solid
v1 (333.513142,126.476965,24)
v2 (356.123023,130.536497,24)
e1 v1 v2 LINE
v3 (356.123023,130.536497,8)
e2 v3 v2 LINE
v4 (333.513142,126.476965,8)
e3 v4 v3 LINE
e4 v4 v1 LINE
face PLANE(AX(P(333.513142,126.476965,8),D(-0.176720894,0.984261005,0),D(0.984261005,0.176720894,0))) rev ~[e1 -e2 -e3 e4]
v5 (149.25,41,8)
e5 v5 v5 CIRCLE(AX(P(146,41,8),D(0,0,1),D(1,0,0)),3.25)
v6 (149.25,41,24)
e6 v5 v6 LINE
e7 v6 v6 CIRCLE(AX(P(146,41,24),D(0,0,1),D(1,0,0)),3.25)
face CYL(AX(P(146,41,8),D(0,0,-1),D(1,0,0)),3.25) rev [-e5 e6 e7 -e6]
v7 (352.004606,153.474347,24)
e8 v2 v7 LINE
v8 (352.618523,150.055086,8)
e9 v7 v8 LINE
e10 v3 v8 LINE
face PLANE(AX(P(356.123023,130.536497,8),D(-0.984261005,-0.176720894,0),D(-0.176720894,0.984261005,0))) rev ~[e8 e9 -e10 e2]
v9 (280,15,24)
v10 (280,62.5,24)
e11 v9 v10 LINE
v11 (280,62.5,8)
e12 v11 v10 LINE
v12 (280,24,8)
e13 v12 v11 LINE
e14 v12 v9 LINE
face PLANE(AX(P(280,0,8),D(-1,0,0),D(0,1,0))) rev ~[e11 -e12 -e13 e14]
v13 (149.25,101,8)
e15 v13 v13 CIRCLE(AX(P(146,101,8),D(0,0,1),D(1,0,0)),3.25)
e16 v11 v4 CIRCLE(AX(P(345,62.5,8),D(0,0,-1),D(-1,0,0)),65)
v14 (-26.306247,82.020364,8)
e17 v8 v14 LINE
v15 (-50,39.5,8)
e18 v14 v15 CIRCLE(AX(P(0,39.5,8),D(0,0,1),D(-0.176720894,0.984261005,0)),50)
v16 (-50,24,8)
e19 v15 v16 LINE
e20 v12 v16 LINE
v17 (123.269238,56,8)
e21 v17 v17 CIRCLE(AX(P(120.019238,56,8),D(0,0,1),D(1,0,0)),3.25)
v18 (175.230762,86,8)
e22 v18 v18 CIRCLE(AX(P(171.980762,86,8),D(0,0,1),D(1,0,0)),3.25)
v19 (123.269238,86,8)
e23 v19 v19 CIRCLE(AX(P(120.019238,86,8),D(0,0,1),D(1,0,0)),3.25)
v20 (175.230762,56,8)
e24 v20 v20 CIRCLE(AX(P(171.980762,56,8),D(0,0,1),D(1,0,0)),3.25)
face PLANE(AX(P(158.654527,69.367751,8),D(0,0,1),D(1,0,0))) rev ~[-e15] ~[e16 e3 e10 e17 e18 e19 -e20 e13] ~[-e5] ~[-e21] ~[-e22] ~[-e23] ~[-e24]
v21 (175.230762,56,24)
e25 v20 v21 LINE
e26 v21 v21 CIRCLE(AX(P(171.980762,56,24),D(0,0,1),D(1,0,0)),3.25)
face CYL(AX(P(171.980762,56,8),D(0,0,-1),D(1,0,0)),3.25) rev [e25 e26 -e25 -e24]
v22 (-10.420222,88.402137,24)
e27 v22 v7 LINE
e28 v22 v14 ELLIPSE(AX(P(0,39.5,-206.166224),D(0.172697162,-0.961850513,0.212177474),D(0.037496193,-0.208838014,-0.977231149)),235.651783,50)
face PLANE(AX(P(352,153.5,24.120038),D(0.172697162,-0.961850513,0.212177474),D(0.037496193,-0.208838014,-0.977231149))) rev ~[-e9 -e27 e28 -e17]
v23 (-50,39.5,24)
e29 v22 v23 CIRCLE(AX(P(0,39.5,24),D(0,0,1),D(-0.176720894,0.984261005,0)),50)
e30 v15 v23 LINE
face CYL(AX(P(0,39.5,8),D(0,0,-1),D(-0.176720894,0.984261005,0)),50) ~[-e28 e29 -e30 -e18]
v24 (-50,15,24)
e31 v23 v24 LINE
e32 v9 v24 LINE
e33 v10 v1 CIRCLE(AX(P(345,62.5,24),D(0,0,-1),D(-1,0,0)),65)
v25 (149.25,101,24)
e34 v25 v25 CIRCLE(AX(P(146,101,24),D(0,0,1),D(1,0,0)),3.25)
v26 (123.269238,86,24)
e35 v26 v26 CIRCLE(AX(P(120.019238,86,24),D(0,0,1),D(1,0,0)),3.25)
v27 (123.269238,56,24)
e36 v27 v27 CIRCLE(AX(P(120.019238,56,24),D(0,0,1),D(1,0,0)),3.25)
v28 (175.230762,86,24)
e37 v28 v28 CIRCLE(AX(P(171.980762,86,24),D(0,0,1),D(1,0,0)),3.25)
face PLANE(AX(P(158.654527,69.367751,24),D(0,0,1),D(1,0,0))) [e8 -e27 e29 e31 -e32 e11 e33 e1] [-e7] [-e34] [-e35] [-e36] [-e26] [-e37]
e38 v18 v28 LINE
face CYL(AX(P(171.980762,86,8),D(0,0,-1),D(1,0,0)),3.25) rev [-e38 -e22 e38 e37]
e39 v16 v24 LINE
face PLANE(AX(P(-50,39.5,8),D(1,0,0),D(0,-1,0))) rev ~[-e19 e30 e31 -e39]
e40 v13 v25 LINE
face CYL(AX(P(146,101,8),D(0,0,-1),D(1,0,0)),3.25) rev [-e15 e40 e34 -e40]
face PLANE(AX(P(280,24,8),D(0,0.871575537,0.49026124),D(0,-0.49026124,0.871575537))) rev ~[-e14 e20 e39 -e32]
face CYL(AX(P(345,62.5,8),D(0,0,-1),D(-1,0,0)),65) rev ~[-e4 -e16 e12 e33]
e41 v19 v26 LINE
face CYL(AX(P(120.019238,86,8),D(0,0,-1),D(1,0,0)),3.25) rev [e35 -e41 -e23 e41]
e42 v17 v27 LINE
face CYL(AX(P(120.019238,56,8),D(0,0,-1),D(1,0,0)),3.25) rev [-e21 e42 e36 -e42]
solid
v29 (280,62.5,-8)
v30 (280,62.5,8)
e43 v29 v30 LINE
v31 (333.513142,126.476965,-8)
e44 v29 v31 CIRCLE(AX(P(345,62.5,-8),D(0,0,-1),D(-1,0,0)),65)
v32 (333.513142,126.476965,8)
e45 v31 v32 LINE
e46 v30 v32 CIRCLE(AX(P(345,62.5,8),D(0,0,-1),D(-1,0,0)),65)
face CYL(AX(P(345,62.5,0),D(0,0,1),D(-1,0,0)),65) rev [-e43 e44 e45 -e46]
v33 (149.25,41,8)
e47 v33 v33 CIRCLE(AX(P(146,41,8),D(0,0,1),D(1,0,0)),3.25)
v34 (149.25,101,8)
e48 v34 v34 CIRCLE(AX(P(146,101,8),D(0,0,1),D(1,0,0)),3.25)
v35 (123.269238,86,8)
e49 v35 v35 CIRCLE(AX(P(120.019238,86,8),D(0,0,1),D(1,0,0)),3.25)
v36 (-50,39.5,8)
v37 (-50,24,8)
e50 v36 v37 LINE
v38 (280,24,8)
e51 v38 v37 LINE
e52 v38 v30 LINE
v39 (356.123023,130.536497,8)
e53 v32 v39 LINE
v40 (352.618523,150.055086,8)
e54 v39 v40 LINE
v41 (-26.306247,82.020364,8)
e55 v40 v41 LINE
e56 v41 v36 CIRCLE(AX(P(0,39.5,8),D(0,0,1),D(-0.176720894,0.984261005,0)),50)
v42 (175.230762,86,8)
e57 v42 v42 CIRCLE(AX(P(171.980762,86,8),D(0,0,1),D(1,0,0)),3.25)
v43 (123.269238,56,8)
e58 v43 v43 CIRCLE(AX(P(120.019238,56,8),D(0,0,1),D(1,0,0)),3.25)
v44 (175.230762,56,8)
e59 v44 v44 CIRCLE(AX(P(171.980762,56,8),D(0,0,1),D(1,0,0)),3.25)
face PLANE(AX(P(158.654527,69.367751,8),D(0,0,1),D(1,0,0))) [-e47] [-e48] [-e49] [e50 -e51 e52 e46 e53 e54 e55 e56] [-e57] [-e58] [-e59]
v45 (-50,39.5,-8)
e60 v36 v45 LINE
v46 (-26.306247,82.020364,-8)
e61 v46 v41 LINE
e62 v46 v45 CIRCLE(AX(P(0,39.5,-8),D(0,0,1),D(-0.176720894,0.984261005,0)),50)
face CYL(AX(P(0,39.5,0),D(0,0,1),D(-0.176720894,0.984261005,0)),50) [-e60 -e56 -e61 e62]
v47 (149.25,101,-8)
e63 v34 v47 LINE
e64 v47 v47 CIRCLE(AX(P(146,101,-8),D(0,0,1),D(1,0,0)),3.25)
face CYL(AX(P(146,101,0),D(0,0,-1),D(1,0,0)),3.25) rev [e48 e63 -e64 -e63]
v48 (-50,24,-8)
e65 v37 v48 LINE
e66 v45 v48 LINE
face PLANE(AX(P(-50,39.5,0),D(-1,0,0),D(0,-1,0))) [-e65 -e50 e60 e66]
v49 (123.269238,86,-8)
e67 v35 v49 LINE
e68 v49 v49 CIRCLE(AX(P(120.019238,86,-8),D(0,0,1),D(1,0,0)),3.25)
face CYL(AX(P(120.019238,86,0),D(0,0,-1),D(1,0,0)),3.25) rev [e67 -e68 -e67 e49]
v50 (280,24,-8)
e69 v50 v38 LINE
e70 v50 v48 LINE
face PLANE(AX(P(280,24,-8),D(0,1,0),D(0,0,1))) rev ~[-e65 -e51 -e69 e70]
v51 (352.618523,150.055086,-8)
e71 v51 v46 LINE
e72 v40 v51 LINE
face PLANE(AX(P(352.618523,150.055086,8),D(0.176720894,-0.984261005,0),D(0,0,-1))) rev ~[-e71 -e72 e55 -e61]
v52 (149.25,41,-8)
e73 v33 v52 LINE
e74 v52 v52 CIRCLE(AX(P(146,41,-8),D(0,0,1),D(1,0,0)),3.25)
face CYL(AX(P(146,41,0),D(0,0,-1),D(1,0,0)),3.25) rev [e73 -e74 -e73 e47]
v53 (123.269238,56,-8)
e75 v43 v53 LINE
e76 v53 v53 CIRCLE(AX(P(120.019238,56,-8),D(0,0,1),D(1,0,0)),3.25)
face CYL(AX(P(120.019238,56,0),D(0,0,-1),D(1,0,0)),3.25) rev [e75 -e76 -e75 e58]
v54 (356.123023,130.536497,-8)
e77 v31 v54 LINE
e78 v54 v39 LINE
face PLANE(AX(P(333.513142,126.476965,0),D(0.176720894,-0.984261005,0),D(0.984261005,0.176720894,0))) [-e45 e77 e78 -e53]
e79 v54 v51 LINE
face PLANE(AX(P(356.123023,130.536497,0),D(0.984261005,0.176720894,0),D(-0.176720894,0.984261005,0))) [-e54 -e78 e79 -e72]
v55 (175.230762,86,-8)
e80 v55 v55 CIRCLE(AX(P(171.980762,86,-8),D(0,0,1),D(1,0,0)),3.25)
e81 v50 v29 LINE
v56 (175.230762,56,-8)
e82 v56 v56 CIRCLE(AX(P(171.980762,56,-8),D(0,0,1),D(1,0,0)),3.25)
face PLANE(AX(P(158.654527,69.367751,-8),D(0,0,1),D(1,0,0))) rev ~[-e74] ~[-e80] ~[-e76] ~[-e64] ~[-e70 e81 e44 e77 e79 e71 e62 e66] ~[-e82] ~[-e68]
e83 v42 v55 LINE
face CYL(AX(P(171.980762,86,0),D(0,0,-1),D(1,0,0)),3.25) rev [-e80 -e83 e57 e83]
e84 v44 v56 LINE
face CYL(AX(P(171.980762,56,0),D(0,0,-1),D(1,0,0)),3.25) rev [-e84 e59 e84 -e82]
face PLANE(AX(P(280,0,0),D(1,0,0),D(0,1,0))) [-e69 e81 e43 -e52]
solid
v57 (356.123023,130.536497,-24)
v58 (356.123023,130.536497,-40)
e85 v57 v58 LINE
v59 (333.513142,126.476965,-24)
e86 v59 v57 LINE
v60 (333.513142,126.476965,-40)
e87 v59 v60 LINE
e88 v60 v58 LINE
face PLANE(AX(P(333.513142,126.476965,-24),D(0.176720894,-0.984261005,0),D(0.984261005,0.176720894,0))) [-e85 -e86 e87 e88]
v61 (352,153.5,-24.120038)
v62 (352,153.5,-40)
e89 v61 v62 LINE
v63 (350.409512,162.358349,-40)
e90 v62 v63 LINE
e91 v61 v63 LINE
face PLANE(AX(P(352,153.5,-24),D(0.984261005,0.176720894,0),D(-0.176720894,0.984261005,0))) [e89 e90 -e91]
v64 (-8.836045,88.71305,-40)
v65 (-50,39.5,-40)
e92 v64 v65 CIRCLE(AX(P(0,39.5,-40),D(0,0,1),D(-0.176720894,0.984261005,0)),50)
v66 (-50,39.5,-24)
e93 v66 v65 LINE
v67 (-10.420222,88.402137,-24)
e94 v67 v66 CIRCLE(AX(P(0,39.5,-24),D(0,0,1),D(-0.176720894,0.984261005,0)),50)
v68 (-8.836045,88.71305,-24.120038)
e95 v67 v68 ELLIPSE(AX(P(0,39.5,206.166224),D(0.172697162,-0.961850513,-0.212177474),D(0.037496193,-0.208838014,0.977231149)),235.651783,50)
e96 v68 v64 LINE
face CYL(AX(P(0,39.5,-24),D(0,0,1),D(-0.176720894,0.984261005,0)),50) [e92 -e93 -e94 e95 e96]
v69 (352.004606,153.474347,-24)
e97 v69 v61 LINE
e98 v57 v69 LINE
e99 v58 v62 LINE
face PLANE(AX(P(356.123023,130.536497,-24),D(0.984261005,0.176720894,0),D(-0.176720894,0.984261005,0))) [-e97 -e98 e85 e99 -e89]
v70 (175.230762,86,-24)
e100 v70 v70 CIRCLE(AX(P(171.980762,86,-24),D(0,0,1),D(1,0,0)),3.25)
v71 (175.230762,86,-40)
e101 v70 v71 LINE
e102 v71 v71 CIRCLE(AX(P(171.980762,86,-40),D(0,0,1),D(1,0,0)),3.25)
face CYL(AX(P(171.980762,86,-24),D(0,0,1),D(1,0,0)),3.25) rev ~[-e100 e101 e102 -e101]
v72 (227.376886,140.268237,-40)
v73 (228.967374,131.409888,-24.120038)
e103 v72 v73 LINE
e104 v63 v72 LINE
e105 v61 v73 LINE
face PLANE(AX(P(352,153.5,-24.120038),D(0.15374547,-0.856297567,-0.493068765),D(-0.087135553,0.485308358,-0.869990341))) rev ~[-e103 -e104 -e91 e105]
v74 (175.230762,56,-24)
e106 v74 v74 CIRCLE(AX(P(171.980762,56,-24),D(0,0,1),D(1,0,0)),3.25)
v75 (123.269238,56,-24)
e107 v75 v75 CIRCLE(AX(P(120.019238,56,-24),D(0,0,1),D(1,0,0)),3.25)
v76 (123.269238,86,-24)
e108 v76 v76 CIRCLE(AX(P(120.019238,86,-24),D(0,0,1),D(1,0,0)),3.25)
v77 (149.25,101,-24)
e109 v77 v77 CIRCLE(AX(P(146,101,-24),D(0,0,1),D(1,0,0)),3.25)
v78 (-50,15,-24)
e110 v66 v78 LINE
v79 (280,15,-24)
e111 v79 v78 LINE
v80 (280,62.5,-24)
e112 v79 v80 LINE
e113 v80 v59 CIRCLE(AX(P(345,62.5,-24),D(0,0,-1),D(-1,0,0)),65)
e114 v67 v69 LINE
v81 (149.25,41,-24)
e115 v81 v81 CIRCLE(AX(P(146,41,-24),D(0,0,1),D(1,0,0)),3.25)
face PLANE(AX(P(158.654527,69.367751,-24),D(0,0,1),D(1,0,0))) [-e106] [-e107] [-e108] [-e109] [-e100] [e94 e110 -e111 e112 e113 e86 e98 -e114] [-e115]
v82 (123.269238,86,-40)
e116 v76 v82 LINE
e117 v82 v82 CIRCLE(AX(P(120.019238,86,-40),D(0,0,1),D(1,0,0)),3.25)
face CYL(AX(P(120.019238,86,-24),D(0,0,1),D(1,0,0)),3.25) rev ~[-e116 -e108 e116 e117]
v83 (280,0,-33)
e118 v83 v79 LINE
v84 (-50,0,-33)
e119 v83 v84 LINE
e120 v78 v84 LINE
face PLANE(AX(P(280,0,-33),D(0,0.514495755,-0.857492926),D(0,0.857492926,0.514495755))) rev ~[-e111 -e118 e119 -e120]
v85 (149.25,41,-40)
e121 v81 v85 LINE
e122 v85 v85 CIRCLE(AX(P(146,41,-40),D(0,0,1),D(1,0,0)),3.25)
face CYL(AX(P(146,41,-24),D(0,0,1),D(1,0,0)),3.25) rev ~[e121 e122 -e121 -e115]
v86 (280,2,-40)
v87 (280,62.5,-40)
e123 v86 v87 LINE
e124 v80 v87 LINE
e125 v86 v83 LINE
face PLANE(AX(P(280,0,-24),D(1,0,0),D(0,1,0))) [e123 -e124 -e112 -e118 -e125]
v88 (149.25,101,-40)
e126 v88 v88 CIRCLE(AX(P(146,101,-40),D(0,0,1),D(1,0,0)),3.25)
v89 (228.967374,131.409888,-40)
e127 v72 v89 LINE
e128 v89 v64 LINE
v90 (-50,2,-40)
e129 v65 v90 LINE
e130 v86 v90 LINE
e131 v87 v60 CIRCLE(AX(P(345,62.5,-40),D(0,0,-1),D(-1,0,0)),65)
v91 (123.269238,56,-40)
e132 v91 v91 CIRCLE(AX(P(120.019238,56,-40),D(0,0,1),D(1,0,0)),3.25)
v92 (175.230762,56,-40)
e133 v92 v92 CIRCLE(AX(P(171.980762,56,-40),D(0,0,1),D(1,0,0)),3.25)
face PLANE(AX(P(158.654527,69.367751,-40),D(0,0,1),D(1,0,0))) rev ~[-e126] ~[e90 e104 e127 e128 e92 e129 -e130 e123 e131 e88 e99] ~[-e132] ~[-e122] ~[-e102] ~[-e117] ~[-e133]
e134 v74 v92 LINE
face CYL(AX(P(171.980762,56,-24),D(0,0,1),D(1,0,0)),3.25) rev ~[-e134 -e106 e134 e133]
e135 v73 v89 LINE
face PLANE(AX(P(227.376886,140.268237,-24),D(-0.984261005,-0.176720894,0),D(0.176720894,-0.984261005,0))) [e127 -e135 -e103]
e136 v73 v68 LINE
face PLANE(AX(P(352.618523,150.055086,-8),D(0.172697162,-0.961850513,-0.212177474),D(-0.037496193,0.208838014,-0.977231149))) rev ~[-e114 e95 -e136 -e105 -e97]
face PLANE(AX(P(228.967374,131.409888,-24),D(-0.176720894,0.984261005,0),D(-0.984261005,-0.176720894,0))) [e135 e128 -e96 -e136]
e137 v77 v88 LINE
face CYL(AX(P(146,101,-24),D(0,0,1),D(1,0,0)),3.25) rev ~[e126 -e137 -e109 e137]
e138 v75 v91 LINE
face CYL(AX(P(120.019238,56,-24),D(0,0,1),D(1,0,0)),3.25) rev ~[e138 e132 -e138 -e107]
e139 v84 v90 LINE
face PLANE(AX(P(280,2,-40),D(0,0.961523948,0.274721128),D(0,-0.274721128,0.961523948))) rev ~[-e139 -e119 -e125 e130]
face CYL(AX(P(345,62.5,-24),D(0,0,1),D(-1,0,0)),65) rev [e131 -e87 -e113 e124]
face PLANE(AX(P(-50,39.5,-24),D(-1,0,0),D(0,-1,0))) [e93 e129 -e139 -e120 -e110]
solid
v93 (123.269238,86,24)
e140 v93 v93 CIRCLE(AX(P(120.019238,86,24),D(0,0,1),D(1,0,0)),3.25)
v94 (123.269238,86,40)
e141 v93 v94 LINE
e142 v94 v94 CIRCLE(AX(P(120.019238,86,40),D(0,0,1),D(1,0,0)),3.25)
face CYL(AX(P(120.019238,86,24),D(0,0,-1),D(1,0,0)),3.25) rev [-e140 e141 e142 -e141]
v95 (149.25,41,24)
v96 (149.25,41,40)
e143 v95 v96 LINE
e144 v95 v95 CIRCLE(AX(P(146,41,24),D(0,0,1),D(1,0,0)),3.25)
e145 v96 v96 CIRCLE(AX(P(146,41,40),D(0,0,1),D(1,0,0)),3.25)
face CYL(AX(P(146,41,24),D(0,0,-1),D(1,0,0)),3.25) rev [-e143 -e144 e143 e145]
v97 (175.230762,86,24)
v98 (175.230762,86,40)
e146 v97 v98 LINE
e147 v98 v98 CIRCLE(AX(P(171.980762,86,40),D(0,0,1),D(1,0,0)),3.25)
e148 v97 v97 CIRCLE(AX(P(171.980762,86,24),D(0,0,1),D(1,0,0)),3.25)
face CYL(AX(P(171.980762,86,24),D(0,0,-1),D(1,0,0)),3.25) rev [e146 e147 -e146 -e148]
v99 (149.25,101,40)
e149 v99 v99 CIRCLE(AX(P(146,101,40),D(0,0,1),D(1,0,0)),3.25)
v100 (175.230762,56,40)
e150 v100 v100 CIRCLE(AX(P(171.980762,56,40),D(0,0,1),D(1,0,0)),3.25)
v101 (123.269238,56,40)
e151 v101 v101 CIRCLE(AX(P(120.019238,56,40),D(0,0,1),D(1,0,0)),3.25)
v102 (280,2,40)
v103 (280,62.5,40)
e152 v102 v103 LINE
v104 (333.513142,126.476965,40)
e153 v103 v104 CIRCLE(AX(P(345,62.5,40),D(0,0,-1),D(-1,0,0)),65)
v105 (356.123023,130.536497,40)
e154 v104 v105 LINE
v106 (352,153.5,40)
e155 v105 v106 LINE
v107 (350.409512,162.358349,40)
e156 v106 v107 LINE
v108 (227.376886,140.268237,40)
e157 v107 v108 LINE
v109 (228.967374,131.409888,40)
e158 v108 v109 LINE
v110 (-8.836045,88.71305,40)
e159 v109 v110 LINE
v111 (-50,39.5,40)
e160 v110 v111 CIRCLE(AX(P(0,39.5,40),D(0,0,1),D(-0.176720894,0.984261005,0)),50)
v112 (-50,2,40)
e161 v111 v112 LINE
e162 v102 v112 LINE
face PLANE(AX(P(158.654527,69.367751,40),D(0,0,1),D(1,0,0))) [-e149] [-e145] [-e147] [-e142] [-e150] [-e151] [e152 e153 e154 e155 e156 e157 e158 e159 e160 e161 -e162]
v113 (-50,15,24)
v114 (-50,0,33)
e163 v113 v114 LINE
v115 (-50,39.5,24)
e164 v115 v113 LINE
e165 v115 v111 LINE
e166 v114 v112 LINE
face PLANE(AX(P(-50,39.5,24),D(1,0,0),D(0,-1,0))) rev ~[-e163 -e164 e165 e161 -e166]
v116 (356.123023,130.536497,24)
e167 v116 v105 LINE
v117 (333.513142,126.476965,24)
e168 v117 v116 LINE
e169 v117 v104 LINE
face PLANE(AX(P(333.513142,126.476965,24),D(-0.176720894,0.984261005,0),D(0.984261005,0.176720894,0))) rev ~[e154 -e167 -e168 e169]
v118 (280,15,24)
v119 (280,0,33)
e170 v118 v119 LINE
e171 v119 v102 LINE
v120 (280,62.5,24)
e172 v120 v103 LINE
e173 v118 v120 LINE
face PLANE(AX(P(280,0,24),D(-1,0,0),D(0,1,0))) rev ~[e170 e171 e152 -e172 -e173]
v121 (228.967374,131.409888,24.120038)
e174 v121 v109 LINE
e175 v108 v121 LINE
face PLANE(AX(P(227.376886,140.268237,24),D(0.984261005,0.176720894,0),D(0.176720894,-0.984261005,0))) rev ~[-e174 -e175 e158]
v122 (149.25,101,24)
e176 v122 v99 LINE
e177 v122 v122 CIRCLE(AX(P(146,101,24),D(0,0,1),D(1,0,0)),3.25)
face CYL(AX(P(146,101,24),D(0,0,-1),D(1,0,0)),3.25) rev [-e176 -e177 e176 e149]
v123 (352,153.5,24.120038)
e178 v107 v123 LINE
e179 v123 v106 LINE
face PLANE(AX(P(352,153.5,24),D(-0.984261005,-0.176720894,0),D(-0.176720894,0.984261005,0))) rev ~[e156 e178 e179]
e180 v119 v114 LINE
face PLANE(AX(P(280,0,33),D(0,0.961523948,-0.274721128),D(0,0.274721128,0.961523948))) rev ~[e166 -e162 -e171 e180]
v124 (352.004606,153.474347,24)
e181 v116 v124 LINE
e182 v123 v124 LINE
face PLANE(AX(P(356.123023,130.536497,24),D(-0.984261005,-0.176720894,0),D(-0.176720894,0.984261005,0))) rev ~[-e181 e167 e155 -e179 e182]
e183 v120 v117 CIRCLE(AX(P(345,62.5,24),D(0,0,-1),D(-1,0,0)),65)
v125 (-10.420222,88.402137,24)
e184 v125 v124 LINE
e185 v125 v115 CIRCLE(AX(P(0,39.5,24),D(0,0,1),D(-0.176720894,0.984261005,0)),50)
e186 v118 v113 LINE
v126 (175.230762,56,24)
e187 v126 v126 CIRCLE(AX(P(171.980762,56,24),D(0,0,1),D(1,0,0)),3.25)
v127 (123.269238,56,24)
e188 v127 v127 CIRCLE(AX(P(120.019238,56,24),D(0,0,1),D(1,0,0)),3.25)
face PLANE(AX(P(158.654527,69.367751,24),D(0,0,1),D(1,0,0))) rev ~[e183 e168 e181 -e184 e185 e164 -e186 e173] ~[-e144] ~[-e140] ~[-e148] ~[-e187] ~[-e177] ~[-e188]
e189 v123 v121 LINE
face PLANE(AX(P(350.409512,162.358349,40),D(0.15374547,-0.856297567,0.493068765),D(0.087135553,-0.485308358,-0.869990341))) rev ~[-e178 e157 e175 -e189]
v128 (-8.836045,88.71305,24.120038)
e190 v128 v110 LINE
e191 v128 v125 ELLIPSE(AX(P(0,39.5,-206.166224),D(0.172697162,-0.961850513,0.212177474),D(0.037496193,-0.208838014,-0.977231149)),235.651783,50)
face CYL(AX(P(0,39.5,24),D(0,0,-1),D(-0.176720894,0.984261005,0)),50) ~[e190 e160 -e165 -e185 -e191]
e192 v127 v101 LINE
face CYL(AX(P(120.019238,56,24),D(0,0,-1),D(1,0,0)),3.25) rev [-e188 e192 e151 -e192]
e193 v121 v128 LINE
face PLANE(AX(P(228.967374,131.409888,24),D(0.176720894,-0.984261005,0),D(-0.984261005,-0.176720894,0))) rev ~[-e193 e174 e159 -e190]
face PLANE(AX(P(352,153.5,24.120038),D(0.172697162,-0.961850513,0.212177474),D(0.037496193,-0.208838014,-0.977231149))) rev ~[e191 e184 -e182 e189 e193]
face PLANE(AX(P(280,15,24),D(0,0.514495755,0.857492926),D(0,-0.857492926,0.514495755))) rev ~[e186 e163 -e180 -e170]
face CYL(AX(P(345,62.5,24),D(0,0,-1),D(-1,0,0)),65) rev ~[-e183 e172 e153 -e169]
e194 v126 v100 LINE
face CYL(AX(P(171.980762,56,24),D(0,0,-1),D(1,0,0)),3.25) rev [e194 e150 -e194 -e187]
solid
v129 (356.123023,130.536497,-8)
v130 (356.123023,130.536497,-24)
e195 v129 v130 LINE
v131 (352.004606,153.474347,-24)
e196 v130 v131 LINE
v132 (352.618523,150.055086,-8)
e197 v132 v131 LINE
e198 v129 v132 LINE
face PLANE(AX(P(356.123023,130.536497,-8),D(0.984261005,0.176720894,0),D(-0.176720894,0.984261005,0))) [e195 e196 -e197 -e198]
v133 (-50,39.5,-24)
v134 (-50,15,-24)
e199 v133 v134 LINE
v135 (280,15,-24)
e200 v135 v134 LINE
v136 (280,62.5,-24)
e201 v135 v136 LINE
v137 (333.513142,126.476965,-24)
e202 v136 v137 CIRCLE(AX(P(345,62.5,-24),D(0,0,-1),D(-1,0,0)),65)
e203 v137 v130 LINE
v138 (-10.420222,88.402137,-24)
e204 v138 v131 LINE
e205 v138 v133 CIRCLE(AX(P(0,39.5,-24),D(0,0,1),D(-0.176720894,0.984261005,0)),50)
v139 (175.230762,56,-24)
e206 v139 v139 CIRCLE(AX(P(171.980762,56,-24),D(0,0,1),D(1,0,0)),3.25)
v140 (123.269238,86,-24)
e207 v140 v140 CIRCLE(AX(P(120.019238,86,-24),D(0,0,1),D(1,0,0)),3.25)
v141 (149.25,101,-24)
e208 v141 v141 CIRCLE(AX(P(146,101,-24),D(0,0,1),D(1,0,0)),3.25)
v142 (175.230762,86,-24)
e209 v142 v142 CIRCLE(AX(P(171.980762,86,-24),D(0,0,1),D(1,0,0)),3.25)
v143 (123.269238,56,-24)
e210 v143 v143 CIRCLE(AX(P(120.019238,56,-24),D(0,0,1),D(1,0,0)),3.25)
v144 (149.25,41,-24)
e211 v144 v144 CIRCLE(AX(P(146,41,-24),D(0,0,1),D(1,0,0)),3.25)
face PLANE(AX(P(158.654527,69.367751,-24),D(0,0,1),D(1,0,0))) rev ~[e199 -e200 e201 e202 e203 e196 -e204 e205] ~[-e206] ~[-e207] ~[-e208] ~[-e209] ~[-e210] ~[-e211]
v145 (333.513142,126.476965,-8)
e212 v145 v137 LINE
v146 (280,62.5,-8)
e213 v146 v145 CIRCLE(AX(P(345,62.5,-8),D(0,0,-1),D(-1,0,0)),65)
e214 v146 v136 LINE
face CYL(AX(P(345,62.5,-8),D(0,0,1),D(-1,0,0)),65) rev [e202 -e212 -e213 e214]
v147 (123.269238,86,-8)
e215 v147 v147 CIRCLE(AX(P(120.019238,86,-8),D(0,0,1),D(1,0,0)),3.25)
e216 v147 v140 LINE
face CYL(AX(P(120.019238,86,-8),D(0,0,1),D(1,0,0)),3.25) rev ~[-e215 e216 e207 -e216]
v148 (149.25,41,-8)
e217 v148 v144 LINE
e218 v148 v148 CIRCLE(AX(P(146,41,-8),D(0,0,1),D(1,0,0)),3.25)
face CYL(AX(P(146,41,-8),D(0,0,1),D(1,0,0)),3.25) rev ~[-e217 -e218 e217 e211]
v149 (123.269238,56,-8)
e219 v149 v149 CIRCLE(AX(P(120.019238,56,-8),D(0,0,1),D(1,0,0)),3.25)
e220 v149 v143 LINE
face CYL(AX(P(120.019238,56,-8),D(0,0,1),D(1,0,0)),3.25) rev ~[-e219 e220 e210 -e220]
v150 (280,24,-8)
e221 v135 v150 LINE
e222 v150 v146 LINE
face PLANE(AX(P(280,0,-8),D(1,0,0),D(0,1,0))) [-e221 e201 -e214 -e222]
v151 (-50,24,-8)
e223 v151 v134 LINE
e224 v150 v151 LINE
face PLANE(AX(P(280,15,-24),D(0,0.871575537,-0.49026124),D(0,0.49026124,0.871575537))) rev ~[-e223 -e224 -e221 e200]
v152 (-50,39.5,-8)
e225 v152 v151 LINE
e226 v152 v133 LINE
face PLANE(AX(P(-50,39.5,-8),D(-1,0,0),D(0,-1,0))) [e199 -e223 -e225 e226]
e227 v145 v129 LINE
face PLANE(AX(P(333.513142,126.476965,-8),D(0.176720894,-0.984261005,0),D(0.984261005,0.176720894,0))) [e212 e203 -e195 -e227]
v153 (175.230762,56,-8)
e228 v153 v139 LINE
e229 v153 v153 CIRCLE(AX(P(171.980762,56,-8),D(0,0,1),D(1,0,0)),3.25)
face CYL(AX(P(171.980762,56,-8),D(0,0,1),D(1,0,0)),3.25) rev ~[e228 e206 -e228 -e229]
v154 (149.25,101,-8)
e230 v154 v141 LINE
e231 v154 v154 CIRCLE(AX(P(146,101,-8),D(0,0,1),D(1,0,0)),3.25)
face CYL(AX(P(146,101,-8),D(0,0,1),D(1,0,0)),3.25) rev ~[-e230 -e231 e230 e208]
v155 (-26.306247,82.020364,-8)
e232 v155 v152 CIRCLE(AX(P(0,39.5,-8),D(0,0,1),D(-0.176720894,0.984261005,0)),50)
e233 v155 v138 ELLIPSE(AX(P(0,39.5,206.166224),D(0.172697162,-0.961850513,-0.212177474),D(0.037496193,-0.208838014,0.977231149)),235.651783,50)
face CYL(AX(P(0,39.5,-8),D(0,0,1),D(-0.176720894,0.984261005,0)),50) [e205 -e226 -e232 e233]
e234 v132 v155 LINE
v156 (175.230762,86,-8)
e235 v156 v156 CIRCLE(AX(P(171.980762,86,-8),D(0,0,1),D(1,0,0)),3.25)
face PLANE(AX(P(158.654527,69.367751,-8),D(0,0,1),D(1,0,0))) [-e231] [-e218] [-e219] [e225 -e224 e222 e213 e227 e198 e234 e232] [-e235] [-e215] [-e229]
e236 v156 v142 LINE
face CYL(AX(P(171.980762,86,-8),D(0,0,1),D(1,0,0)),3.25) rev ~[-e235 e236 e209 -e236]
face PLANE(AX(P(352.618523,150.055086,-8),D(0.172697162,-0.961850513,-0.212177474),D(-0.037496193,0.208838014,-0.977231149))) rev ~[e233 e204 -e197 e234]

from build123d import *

# Parameters (mm, degrees)
F0_R     = 3.25
F1_DEPTH = 8
F2_DEPTH = 16
F3_DEPTH = 16
F4_DEPTH = 16
F5_DEPTH = 16
F7_DEPTH = 330.001
F9_DEPTH = 422.8005811396


with BuildPart() as f1:
    # F0 (on Top) → F1 (new body, symmetric)
    with BuildSketch(Plane.XY):
        with BuildLine():
            Line((-50, 39.5), (-50, 0))
            Line((-50, 0), (280, 0))
            Line((280, 0), (280, 62.5))
            ThreePointArc((280, 62.5), (295.1419726845, 104.2034424503), (333.513141914, 126.4769653181))
            Line((333.513141914, 126.4769653181), (356.1230230702, 130.5364966649))
            Line((356.1230230702, 130.5364966649), (352, 153.5))
            Line((352, 153.5), (350.4095119573, 162.358349044))
            Line((350.4095119573, 162.358349044), (227.3768863456, 140.2682373402))
            Line((227.3768863456, 140.2682373402), (228.9673743883, 131.4098882962))
            Line((228.9673743883, 131.4098882962), (-8.8360446815, 88.7130502447))
            ThreePointArc((-8.8360446815, 88.7130502447), (-38.3523287042, 71.5795711156), (-50, 39.5))
        make_face()
        with Locations((146, 41)):
            Circle(F0_R, mode=Mode.SUBTRACT)
        with Locations((120.0192378865, 56)):
            Circle(F0_R, mode=Mode.SUBTRACT)
        with Locations((171.9807621135, 56)):
            Circle(F0_R, mode=Mode.SUBTRACT)
        with Locations((120.0192378865, 86)):
            Circle(F0_R, mode=Mode.SUBTRACT)
        with Locations((146, 101)):
            Circle(F0_R, mode=Mode.SUBTRACT)
        with Locations((171.9807621135, 86)):
            Circle(F0_R, mode=Mode.SUBTRACT)
    extrude(amount=F1_DEPTH, both=True)


with BuildPart() as f2:
    # F2 (new): a face of the model
    f2_faces = [f1.part.faces().sort_by_distance(p)[0] for p in [
        (146.4073633707, 63.3701394157, 8),
    ]]
    extrude(f2_faces, amount=F2_DEPTH)


with BuildPart() as f3:
    # F3 (new): a face of the model
    f3_faces = [f2.part.faces().sort_by_distance(p)[0] for p in [
        (146.4073633707, 63.3701394157, 24),
    ]]
    extrude(f3_faces, amount=F3_DEPTH)


with BuildPart() as f4:
    # F4 (new): a face of the model
    f4_faces = [f1.part.faces().sort_by_distance(p)[0] for p in [
        (146.4073633707, 63.3701394157, -8),
    ]]
    extrude(f4_faces, amount=F4_DEPTH)


with BuildPart() as f5:
    # F5 (new): a face of the model
    f5_faces = [f4.part.faces().sort_by_distance(p)[0] for p in [
        (146.4073633707, 63.3701394157, -24),
    ]]
    extrude(f5_faces, amount=F5_DEPTH)


with BuildPart() as f7_tool:
    # F6 (on face) → F7 (new body, through all)
    with BuildSketch(Plane.YZ.offset(280)):
        Polygon((2, -40), (0, -33), (0, -40), align=None)
        Polygon((0, 40), (0, 33), (2, 40), align=None)
        Polygon((24, -8), (24, 8), (15, 24), (0, 33), (0, 24), (0, -33), (15, -24), align=None)
    extrude(amount=-F7_DEPTH)


with BuildPart() as f1_1:
    add(f1.part)

    # F7: cut by f7_tool
    add(f7_tool.part, mode=Mode.SUBTRACT)


with BuildPart() as f2_1:
    add(f2.part)

    # F7: cut by f7_tool
    add(f7_tool.part, mode=Mode.SUBTRACT)


with BuildPart() as f3_1:
    add(f3.part)

    # F7: cut by f7_tool
    add(f7_tool.part, mode=Mode.SUBTRACT)


with BuildPart() as f4_1:
    add(f4.part)

    # F7: cut by f7_tool
    add(f7_tool.part, mode=Mode.SUBTRACT)


with BuildPart() as f5_1:
    add(f5.part)

    # F7: cut by f7_tool
    add(f7_tool.part, mode=Mode.SUBTRACT)


with BuildPart() as f9_tool:
    # F8 (on face) → F9 (new body, through all)
    with BuildSketch(Plane(origin=(367.7066543134, 66.020545588, 0), x_dir=(-0.1767208936, 0.9842610049, 0), z_dir=(0.9842610049, 0.1767208936, 0))):
        Polygon((88.8783096933, 24.1200383753), (85.3783096933, 8), (85.3783096933, -8), (88.8783096933, -24.1200383753), (97.8783096933, -40), (97.8783096933, 40), align=None)
    extrude(amount=-F9_DEPTH)


with BuildPart() as f1_2:
    add(f1_1.part)

    # F9: cut by f9_tool
    add(f9_tool.part, mode=Mode.SUBTRACT)


with BuildPart() as f2_2:
    add(f2_1.part)

    # F9: cut by f9_tool
    add(f9_tool.part, mode=Mode.SUBTRACT)


with BuildPart() as f3_2:
    add(f3_1.part)

    # F9: cut by f9_tool
    add(f9_tool.part, mode=Mode.SUBTRACT)


with BuildPart() as f4_2:
    add(f4_1.part)

    # F9: cut by f9_tool
    add(f9_tool.part, mode=Mode.SUBTRACT)


with BuildPart() as f5_2:
    add(f5_1.part)

    # F9: cut by f9_tool
    add(f9_tool.part, mode=Mode.SUBTRACT)


solid = Compound([f1_2.part, f2_2.part, f3_2.part, f4_2.part, f5_2.part])
